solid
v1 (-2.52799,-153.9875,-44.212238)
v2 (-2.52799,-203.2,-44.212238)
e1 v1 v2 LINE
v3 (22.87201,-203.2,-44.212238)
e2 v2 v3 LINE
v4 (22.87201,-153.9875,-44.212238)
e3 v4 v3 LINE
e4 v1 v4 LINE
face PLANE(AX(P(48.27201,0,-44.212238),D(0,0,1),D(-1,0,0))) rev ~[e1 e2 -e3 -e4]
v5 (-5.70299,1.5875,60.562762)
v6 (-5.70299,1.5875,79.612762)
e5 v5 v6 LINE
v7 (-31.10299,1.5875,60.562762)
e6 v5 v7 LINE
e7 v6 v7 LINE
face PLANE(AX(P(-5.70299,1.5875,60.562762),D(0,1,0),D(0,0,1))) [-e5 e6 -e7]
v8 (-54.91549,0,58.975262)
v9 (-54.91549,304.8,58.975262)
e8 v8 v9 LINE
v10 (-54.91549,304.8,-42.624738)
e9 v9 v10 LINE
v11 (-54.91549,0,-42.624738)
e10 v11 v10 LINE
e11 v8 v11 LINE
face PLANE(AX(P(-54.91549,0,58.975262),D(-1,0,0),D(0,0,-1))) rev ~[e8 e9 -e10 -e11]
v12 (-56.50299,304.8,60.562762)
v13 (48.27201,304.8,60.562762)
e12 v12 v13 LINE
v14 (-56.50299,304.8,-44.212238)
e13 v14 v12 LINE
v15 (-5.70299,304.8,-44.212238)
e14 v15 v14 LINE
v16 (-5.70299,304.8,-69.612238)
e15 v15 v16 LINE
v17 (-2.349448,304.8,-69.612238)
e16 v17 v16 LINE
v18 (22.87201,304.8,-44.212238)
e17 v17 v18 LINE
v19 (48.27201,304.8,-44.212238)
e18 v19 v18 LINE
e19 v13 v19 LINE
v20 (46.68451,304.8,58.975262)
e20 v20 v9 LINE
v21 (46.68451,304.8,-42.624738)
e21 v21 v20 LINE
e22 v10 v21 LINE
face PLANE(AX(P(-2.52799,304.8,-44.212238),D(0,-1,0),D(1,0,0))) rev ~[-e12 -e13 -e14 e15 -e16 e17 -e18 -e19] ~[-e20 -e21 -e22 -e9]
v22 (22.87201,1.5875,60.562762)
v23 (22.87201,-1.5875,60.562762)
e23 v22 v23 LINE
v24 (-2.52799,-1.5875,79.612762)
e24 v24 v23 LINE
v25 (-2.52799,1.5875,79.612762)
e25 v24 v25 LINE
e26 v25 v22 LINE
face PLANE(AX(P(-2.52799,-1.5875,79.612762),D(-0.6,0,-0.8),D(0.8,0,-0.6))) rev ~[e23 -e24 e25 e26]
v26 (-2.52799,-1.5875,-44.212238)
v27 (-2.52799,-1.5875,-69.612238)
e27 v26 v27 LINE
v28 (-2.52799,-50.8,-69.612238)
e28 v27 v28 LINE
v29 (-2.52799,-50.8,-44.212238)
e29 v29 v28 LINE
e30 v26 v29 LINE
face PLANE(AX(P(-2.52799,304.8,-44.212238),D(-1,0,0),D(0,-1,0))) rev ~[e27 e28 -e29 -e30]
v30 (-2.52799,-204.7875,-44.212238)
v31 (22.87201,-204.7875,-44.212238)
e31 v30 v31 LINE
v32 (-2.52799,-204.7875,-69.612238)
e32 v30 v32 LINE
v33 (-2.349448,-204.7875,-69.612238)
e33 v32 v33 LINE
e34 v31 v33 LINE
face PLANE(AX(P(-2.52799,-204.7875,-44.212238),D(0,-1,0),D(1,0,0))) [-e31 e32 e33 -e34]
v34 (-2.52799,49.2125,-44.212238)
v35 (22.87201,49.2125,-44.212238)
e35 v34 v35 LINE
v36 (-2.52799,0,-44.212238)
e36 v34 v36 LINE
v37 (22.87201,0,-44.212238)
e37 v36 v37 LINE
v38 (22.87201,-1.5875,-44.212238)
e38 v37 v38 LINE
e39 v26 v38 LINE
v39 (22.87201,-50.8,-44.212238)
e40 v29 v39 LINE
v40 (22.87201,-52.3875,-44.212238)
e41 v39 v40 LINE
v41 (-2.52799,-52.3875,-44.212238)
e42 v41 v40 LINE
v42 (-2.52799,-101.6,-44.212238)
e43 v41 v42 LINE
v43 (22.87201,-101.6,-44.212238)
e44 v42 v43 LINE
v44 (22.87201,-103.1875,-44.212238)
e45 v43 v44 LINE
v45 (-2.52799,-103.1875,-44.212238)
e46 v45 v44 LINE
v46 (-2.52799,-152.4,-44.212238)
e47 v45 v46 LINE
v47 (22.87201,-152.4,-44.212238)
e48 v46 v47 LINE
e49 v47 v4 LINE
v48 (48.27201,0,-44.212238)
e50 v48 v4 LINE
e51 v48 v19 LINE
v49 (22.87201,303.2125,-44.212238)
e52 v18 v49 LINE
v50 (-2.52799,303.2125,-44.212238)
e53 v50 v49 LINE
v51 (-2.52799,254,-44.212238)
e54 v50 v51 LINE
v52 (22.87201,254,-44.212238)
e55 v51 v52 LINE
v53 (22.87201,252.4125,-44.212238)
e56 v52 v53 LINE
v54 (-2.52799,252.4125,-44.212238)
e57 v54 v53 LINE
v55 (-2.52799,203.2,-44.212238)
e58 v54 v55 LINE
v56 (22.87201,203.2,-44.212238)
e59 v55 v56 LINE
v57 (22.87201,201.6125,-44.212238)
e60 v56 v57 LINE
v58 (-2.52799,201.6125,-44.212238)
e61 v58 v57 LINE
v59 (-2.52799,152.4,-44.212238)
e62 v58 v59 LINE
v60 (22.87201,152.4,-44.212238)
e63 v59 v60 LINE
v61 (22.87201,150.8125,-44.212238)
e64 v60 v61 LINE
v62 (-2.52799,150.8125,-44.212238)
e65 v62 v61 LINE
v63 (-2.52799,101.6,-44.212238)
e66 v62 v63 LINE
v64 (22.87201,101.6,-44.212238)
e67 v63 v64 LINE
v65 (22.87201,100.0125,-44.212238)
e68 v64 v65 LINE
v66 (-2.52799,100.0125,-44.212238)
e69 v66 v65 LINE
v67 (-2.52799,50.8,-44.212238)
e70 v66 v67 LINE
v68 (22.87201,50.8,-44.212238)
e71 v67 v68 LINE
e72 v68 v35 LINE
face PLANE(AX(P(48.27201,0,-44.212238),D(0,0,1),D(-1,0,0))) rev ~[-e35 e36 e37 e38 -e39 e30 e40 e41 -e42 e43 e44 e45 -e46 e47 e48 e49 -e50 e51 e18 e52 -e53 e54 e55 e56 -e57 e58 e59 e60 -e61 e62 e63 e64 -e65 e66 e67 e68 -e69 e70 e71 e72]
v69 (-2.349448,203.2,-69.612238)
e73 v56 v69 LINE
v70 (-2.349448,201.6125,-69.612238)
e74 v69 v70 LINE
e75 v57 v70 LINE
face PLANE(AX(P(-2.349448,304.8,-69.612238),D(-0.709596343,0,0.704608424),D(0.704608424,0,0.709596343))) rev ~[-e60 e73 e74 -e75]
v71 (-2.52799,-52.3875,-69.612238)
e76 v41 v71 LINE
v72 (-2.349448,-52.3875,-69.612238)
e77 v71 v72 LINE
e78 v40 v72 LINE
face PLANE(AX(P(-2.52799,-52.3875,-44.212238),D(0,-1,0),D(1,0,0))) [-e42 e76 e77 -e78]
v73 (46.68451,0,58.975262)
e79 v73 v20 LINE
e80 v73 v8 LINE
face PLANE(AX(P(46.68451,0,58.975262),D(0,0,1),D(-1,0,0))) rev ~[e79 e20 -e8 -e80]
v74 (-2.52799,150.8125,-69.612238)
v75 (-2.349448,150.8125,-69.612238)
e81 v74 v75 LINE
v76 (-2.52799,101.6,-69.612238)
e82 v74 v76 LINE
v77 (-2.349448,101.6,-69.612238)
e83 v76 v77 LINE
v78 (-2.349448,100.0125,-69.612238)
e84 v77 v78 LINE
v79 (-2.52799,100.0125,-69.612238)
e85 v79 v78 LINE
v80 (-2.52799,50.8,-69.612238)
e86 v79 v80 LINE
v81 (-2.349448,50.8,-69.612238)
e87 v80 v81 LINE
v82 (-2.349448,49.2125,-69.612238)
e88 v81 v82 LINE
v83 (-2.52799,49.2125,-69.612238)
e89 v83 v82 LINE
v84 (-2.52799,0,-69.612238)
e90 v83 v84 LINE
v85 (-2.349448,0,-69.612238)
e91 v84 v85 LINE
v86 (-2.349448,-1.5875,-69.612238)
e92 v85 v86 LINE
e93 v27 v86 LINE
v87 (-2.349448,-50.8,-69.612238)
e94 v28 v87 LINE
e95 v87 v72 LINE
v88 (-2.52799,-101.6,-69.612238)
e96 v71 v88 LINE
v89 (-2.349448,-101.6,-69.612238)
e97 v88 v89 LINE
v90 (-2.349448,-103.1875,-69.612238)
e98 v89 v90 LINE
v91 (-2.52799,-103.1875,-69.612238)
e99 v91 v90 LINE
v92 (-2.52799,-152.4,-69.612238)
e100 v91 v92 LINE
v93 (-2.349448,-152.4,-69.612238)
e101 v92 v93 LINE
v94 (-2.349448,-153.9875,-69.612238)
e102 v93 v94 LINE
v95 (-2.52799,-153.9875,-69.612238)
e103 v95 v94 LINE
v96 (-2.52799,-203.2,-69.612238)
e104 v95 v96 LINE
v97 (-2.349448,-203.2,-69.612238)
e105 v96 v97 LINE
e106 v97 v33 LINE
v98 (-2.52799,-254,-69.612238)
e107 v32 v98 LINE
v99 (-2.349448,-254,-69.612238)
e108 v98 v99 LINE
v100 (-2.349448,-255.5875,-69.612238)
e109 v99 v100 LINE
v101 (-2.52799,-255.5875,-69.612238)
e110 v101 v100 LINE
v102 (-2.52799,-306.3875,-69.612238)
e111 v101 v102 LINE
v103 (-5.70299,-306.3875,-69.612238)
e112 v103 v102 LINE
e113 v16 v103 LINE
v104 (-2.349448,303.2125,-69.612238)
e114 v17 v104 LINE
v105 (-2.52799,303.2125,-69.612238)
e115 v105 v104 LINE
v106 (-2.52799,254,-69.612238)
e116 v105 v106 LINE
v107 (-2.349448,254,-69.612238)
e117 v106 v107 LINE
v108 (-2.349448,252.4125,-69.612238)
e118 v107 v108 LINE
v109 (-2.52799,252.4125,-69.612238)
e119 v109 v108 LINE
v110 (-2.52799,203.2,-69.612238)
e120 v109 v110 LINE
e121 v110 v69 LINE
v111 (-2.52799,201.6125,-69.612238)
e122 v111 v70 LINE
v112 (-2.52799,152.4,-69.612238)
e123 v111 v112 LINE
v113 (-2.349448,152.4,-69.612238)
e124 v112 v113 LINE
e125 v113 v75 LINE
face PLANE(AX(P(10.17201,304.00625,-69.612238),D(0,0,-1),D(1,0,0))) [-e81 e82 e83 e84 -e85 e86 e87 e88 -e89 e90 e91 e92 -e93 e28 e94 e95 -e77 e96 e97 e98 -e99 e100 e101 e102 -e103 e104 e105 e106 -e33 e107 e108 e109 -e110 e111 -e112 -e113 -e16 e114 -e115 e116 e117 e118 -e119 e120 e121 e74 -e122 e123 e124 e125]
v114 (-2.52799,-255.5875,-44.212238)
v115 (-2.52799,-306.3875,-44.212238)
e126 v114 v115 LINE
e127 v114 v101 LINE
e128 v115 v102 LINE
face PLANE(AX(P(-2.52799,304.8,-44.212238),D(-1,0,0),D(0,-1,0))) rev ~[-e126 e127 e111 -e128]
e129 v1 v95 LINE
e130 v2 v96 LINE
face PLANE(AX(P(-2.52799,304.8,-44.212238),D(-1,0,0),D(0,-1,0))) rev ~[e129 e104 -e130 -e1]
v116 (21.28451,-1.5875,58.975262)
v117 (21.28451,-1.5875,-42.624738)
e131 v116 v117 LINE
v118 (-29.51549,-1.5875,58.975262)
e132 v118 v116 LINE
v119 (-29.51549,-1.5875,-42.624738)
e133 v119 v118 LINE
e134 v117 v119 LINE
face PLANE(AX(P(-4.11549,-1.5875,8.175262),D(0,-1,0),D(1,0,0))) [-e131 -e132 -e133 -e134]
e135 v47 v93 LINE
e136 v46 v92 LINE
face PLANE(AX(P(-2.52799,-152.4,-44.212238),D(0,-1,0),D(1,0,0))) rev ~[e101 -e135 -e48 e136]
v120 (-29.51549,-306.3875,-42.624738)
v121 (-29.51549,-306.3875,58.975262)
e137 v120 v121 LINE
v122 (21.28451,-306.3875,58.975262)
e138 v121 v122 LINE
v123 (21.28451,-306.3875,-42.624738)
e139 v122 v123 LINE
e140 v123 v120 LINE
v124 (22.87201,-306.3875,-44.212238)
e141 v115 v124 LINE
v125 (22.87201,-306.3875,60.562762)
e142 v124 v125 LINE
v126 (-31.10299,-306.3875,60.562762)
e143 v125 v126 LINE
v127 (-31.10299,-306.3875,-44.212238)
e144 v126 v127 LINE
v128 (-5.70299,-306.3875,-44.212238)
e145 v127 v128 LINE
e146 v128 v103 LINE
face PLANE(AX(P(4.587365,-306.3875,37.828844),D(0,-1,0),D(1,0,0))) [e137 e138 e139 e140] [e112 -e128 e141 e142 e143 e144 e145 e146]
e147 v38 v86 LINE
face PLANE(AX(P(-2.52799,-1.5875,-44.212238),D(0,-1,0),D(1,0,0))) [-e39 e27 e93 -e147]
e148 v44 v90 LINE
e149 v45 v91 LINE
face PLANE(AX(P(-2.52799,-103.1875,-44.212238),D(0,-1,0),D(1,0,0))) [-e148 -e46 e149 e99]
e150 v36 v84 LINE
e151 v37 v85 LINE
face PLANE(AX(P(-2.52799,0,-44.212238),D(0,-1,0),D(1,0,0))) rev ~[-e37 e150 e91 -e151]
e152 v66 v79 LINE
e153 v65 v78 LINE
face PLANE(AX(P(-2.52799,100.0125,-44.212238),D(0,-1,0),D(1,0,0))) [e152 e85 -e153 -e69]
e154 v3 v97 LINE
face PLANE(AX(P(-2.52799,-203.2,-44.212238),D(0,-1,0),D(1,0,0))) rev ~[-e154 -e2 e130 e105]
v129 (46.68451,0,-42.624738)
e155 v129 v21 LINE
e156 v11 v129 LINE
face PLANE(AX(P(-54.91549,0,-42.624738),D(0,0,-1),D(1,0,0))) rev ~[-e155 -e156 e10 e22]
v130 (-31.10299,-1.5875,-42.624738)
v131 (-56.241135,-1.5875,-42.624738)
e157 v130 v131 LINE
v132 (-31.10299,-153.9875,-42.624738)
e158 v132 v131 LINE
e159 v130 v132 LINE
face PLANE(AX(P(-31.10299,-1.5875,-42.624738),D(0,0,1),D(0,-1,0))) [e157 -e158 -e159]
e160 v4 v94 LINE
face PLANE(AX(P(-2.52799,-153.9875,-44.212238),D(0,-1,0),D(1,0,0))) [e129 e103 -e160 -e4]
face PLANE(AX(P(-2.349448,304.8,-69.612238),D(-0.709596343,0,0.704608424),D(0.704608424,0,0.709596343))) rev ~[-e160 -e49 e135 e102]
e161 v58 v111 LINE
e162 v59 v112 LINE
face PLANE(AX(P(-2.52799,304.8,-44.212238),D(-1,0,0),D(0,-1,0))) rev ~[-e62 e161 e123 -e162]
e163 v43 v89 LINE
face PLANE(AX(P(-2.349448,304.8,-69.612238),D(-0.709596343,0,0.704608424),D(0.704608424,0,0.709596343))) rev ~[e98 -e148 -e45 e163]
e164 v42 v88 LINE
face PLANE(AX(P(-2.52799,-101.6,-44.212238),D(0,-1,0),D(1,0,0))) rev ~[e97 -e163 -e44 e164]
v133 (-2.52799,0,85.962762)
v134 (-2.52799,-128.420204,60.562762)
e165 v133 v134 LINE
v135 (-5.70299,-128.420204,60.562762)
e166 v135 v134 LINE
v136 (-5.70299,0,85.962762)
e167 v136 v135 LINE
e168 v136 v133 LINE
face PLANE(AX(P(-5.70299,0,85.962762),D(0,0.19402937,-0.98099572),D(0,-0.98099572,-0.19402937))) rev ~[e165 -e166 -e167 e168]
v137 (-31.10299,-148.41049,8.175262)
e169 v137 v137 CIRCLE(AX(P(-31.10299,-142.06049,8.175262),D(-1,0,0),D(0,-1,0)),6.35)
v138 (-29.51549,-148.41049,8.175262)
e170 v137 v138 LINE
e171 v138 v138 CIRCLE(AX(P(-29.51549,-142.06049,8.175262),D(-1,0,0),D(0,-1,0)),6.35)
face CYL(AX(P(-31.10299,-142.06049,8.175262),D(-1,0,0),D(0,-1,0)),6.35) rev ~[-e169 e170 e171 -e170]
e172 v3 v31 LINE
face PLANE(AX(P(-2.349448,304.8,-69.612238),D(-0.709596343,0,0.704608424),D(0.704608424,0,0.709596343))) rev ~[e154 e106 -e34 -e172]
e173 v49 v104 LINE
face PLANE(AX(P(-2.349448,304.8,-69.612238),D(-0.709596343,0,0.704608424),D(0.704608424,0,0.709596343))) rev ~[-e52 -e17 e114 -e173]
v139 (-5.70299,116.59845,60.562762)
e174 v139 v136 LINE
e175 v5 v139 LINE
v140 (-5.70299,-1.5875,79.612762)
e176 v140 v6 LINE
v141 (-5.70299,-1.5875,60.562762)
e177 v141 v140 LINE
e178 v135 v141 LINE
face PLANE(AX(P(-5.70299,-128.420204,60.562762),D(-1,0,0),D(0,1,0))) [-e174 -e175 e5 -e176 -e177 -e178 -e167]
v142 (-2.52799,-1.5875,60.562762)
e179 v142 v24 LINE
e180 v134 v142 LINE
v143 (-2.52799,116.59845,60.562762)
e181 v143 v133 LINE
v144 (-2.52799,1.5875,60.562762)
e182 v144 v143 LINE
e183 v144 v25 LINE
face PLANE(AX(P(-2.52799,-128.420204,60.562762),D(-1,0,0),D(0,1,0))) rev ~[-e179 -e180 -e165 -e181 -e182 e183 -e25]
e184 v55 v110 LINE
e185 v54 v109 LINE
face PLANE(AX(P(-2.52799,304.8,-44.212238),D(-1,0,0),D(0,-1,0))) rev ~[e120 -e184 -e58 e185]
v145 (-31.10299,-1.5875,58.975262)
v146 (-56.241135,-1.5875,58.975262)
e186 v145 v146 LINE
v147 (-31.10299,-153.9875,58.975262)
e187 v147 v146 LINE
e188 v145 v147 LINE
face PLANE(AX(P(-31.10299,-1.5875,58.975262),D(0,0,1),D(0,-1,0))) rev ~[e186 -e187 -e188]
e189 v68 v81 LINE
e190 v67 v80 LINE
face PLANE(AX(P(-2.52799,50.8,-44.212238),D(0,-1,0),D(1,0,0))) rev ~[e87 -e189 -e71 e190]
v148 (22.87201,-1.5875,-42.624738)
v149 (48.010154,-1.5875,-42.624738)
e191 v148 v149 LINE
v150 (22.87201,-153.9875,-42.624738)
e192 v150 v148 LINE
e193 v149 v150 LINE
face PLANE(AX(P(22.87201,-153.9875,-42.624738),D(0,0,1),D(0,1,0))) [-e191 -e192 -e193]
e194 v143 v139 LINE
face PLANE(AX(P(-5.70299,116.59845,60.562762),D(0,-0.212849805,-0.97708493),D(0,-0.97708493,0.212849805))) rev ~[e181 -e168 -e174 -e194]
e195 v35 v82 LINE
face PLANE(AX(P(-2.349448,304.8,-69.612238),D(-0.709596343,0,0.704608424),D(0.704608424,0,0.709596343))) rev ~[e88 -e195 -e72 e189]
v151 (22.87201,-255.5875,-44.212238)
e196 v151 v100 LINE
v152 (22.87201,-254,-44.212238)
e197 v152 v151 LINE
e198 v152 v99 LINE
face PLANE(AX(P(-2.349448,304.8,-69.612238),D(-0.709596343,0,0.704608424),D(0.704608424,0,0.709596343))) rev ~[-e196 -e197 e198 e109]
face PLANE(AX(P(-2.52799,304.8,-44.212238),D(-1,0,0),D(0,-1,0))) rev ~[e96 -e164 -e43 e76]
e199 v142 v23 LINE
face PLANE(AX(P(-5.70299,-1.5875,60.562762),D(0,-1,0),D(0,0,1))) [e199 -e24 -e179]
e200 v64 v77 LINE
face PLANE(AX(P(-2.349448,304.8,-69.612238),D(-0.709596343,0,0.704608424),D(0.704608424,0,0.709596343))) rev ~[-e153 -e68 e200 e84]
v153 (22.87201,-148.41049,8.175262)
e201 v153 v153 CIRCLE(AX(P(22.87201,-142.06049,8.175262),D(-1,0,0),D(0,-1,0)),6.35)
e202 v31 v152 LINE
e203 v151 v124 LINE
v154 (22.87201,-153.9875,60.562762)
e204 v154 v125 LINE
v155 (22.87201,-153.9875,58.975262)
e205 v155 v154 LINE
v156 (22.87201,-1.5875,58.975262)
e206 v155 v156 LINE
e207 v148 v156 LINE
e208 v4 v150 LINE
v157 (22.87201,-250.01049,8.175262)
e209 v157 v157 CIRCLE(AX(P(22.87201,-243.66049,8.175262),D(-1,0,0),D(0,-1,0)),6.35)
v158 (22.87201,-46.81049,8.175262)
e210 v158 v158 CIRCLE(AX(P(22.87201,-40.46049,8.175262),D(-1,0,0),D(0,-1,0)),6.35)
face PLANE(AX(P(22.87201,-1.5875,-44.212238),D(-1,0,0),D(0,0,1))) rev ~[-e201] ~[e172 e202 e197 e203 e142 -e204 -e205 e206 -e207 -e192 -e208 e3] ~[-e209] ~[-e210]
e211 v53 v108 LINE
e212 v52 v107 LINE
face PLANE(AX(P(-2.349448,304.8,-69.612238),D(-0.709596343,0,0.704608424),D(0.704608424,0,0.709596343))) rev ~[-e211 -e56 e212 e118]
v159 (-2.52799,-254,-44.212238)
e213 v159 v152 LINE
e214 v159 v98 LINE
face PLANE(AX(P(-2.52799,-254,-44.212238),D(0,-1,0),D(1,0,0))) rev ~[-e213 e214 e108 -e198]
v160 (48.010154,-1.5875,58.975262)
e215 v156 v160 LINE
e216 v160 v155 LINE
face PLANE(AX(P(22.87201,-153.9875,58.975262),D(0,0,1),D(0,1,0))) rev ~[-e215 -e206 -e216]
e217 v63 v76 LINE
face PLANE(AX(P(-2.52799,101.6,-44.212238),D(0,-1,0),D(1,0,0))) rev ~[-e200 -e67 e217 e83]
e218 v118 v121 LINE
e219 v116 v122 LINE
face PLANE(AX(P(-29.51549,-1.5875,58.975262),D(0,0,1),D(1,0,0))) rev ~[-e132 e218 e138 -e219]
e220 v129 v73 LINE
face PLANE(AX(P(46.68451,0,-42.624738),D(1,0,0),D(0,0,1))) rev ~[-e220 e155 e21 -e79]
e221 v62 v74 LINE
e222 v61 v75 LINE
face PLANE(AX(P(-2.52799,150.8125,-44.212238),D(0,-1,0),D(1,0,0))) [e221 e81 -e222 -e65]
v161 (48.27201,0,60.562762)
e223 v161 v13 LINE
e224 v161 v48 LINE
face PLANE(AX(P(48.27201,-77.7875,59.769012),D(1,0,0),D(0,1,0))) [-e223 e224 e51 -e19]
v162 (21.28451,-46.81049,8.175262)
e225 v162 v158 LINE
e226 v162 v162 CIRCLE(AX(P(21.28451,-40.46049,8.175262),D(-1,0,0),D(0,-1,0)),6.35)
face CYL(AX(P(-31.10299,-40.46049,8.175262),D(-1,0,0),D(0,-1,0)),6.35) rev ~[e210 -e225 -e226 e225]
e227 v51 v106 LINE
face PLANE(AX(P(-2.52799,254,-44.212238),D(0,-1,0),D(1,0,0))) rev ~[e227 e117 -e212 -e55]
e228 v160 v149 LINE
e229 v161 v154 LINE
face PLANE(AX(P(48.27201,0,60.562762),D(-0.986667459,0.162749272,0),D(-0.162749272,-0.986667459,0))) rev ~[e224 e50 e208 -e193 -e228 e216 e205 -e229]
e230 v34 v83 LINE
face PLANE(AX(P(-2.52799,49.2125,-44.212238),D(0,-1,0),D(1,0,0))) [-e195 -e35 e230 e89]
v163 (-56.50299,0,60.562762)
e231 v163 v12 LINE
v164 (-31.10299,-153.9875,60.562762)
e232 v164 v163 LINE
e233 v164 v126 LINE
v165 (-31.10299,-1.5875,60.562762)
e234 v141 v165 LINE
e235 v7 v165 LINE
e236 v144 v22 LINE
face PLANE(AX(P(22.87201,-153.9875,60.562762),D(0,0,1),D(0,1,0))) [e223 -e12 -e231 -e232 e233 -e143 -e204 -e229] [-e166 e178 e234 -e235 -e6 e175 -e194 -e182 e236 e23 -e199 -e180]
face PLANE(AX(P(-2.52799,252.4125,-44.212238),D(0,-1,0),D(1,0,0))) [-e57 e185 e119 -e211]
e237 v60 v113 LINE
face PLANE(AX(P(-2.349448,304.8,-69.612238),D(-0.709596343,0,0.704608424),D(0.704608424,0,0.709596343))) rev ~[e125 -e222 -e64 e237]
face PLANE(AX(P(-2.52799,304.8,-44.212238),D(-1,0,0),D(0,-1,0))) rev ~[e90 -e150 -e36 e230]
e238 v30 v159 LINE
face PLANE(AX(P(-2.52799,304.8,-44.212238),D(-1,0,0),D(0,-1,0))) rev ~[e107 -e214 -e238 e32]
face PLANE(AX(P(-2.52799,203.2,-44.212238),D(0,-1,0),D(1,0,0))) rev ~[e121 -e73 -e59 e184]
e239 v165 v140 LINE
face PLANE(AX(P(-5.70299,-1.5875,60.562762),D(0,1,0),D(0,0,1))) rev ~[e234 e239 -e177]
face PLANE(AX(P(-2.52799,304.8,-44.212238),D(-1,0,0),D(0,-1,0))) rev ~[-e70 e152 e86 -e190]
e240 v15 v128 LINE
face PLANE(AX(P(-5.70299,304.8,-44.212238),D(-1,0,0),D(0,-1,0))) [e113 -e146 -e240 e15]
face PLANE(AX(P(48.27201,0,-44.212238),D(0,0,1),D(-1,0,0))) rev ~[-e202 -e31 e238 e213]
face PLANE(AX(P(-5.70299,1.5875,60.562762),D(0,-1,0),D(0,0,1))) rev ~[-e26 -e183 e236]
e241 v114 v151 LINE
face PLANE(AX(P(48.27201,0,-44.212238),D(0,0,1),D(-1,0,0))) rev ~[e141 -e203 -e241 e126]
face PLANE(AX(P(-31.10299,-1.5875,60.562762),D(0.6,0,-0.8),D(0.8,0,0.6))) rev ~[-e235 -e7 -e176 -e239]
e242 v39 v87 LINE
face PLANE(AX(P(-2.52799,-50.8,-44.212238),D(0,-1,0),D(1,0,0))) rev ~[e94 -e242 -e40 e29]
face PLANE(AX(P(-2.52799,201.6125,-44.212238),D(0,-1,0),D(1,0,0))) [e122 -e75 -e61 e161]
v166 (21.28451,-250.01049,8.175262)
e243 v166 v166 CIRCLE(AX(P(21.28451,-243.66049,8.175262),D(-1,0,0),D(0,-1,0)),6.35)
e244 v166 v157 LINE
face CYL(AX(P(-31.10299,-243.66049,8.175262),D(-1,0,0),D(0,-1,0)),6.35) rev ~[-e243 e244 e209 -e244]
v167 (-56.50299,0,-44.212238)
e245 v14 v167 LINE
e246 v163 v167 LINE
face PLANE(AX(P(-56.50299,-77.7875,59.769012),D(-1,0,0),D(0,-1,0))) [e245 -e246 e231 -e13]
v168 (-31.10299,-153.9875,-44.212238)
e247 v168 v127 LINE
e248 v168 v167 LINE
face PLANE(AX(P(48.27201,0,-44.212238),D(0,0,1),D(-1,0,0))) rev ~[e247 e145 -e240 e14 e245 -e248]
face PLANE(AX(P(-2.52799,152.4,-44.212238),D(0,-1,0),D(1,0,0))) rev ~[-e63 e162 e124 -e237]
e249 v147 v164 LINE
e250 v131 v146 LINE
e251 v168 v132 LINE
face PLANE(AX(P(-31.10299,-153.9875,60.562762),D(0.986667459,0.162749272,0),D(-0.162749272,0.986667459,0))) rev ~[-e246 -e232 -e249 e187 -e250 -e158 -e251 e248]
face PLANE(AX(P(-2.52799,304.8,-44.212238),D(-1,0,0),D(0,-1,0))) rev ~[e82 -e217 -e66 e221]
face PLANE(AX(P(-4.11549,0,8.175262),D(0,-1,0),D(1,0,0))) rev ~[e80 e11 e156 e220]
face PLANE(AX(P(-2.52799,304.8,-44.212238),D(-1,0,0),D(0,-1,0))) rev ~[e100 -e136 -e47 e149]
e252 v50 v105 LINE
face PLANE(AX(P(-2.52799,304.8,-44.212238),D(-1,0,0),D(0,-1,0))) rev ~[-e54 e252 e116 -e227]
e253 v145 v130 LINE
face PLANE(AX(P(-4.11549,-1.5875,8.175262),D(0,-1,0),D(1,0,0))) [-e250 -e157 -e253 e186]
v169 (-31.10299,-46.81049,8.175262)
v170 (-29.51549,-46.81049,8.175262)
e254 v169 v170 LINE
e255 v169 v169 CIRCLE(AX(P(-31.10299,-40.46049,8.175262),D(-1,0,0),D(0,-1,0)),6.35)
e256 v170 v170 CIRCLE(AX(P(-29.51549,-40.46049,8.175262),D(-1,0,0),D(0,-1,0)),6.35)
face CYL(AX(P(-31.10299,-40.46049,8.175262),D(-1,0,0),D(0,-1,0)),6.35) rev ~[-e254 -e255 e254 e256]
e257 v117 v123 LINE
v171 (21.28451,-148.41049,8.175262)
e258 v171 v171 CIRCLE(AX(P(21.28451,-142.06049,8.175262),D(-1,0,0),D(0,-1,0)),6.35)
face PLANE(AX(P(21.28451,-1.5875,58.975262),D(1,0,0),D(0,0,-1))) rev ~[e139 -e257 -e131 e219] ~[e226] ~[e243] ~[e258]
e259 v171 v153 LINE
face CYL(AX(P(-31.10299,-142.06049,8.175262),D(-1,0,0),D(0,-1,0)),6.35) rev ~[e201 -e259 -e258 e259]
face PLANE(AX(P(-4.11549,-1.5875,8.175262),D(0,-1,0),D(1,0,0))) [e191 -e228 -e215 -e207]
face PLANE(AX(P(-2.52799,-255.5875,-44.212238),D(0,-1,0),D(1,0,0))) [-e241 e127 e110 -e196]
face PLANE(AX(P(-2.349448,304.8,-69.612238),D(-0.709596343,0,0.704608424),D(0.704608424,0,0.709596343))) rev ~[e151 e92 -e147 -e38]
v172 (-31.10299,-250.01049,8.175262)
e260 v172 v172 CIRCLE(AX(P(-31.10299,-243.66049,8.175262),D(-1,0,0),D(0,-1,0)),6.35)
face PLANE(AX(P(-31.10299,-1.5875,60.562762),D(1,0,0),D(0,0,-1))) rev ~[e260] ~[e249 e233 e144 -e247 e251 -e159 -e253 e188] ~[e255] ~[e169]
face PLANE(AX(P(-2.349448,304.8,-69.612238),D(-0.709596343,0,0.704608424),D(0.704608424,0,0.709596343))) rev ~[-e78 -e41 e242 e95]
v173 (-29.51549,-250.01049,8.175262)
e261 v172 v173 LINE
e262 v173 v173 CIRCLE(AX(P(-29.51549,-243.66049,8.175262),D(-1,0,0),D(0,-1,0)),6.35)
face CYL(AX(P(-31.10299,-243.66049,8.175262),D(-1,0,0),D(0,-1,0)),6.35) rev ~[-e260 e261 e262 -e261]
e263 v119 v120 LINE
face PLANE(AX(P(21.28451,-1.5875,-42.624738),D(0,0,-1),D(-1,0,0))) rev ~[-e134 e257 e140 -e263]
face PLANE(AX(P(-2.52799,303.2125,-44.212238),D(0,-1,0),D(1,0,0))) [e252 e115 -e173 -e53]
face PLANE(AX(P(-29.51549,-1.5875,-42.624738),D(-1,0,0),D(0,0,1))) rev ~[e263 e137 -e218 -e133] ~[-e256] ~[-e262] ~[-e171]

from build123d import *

# Parameters (mm, degrees)
F0_W           = 104.775
F0_H           = 104.775
F0_W_2         = 101.6
F0_H_2         = 101.6
F1_DEPTH       = 1.5875
F3_DEPTH       = 304.8
F5_DEPTH       = 304.8
F6_W           = 152.4
F6_H           = 1.5875
F7_DEPTH       = 25.4
F8_W           = 152.4
F8_H           = 1.5875
F9_DEPTH       = 25.4
F11_DEPTH      = 177.8
F12_W          = 3.175
F12_H          = 611.1875
F13_DEPTH      = 25.4
F14_R          = 6.35
F15_DEPTH      = 213.36
F16_W          = 25.4
F16_H          = 1.5875
F17_DEPTH      = 25.4
F19_DEPTH      = 1828.8
F20_W          = 1.5875
F20_H          = 245.0186535716
F21_DEPTH      = 25.4
F23_DEPTH      = 25.4
F24_W          = 1.5875
F24_H          = 19.05
F25_DEPTH      = 25.4
F25_DEPTH_BACK = 28.575
F27_DEPTH      = 25.4
F29_DEPTH      = 25.4


with BuildPart() as f1:
    # F0 (on Front) → F1 (new body)
    with BuildSketch(Plane.XZ):
        with Locations((-4.1154902428, 8.1752620383)):
            Rectangle(F0_W, F0_H)
        with Locations((-4.1154902428, 8.1752620383)):
            Rectangle(F0_W_2, F0_H_2, mode=Mode.SUBTRACT)
        with Locations((-4.1154902428, 8.1752620383)):
            Rectangle(F0_W_2, F0_H_2)
    extrude(amount=F1_DEPTH)

    # F2 (on face) → F3 (join)
    with BuildSketch(Plane(origin=(0, 0, 0), x_dir=(-1, 0, 0), z_dir=(0, 1, 0))):
        Polygon((-46.6845097572, 58.9752620383), (-48.2720097572, 60.5627620383), (-48.2720097572, -44.2122379617), (56.5029902428, -44.2122379617), (54.9154902428, -42.6247379617), (-46.6845097572, -42.6247379617), align=None)
        Polygon((56.5029902428, 60.5627620383), (-48.2720097572, 60.5627620383), (-46.6845097572, 58.9752620383), (54.9154902428, 58.9752620383), (54.9154902428, -42.6247379617), (56.5029902428, -44.2122379617), align=None)
    extrude(amount=F3_DEPTH)

    # F4 (on face) → F5 (join)
    with BuildSketch(Plane.XZ.offset(1.5875)):
        Polygon((-31.1029902428, 60.5627620383), (-31.1029902428, 35.1627620383), (-29.5154902428, 33.5752620383), (-29.5154902428, 58.9752620383), (21.2845097572, 58.9752620383), (21.2845097572, -17.2247379617), (22.8720097572, -18.8122379617), (22.8720097572, 60.5627620383), align=None)
        Polygon((-29.5154902428, 33.5752620383), (-31.1029902428, 35.1627620383), (-31.1029902428, -44.2122379617), (22.8720097572, -44.2122379617), (22.8720097572, -18.8122379617), (21.2845097572, -17.2247379617), (21.2845097572, -42.6247379617), (-29.5154902428, -42.6247379617), align=None)
    extrude(amount=F5_DEPTH)

    # F6 (on face) → F7 (join)
    with BuildSketch(Plane(origin=(-31.1029902428, 0, 0), x_dir=(0, -1, 0), z_dir=(-1, 0, 0))):
        with Locations((77.7875, 59.7690120383)):
            Rectangle(F6_W, F6_H)
        with Locations((77.7875, -43.4184879617)):
            Rectangle(F6_W, F6_H)
    extrude(amount=F7_DEPTH)

    # F8 (on face) → F9 (join)
    with BuildSketch(Plane.YZ.offset(22.8720097572)):
        with Locations((-77.7875, 59.7690120383)):
            Rectangle(F8_W, F8_H)
        with Locations((-77.7875, -43.4184879617)):
            Rectangle(F8_W, F8_H)
    extrude(amount=F9_DEPTH)

    # F10 (on face) → F11 (cut)
    with BuildSketch(Plane.XY.offset(60.5627620383)):
        Polygon((-31.1029902428, -153.9875), (-56.5029902428, 0), (-56.5029902428, -153.9875), align=None)
        Polygon((48.2720097572, -153.9875), (48.2720097572, 0), (22.8720097572, -153.9875), align=None)
    extrude(amount=-F11_DEPTH, mode=Mode.SUBTRACT)

    # F12 (on face) → F13 (join)
    with BuildSketch(Plane(origin=(0, 0, -44.2122379617), x_dir=(1, 0, 0), z_dir=(0, 0, -1))):
        with Locations((-4.1154902428, 0.79375)):
            Rectangle(F12_W, F12_H)
    extrude(amount=F13_DEPTH)

    # F14 (on face) → F15 (cut)
    with BuildSketch(Plane(origin=(-31.1029902428, 0, 0), x_dir=(0, -1, 0), z_dir=(-1, 0, 0))):
        with Locations((40.4604896903, 8.1752620383)):
            Circle(F14_R)
        with Locations((142.0604896903, 8.1752620383)):
            Circle(F14_R)
        with Locations((243.6604896903, 8.1752620383)):
            Circle(F14_R)
    extrude(amount=-F15_DEPTH, mode=Mode.SUBTRACT)

    # F16 (on face) → F17 (join)
    with BuildSketch(Plane(origin=(0, 0, -44.2122379617), x_dir=(1, 0, 0), z_dir=(0, 0, -1))):
        with Locations((10.1720097572, -304.00625)):
            Rectangle(F16_W, F16_H)
        with Locations((10.1720097572, -253.20625)):
            Rectangle(F16_W, F16_H)
        with Locations((10.1720097572, -202.40625)):
            Rectangle(F16_W, F16_H)
        with Locations((10.1720097572, -151.60625)):
            Rectangle(F16_W, F16_H)
        with Locations((10.1720097572, -100.80625)):
            Rectangle(F16_W, F16_H)
        with Locations((10.1720097572, -50.00625)):
            Rectangle(F16_W, F16_H)
        with Locations((10.1720097572, 0.79375)):
            Rectangle(F16_W, F16_H)
        with Locations((10.1720097572, 102.39375)):
            Rectangle(F16_W, F16_H)
        with Locations((10.1720097572, 51.59375)):
            Rectangle(F16_W, F16_H)
        with Locations((10.1720097572, 153.19375)):
            Rectangle(F16_W, F16_H)
        with Locations((10.1720097572, 203.99375)):
            Rectangle(F16_W, F16_H)
        with Locations((10.1720097572, 254.79375)):
            Rectangle(F16_W, F16_H)
    extrude(amount=F17_DEPTH)

    # F18 (on face) → F19 (cut)
    with BuildSketch(Plane(origin=(0, 304.8, 0), x_dir=(-1, 0, 0), z_dir=(0, 1, 0))):
        Polygon((-22.8720097572, -69.6122379617), (2.3494476918, -69.6122379617), (-22.8720097572, -44.2122379617), align=None)
    extrude(amount=-F19_DEPTH, mode=Mode.SUBTRACT)

    # F20 (on face) → F21 (join)
    with BuildSketch(Plane.XY.offset(60.5627620383)):
        with Locations((-4.9092402428, -5.9108771384)):
            Rectangle(F20_W, F20_H)
        with Locations((-3.3217402428, -5.9108771384)):
            Rectangle(F20_W, F20_H)
    extrude(amount=F21_DEPTH)

    # F22 (on face) → F23 (cut)
    with BuildSketch(Plane(origin=(-5.7029902428, 0, 0), x_dir=(0, -1, 0), z_dir=(-1, 0, 0))):
        Polygon((-116.5984496474, 85.9627620383), (-116.5984496474, 60.5627620383), (0, 85.9627620383), align=None)
        Polygon((128.4202039242, 85.9627620383), (0, 85.9627620383), (128.4202039242, 60.5627620383), align=None)
    extrude(amount=-F23_DEPTH, mode=Mode.SUBTRACT)

    # F24 (on face) → F25 (join, two sides)
    with BuildSketch(Plane(origin=(-5.7029902428, 0, 0), x_dir=(0, -1, 0), z_dir=(-1, 0, 0))) as f25_sk:
        with Locations((-0.79375, 70.0877620383)):
            Rectangle(F24_W, F24_H)
        with Locations((0.79375, 70.0877620383)):
            Rectangle(F24_W, F24_H)
    extrude(amount=F25_DEPTH)
    extrude(f25_sk.sketch, amount=-F25_DEPTH_BACK)

    # F26 (on face) → F27 (cut)
    with BuildSketch(Plane.XZ.offset(1.5875)):
        Polygon((-31.1029902428, 60.5627620383), (-5.7029902428, 79.6127620383), (-31.1029902428, 79.6127620383), align=None)
    extrude(amount=-F27_DEPTH, mode=Mode.SUBTRACT)

    # F28 (on face) → F29 (cut)
    with BuildSketch(Plane.XZ.offset(1.5875)):
        Polygon((22.8720097572, 79.6127620383), (-2.5279902428, 79.6127620383), (22.8720097572, 60.5627620383), align=None)
    extrude(amount=-F29_DEPTH, mode=Mode.SUBTRACT)


solid = f1.part
